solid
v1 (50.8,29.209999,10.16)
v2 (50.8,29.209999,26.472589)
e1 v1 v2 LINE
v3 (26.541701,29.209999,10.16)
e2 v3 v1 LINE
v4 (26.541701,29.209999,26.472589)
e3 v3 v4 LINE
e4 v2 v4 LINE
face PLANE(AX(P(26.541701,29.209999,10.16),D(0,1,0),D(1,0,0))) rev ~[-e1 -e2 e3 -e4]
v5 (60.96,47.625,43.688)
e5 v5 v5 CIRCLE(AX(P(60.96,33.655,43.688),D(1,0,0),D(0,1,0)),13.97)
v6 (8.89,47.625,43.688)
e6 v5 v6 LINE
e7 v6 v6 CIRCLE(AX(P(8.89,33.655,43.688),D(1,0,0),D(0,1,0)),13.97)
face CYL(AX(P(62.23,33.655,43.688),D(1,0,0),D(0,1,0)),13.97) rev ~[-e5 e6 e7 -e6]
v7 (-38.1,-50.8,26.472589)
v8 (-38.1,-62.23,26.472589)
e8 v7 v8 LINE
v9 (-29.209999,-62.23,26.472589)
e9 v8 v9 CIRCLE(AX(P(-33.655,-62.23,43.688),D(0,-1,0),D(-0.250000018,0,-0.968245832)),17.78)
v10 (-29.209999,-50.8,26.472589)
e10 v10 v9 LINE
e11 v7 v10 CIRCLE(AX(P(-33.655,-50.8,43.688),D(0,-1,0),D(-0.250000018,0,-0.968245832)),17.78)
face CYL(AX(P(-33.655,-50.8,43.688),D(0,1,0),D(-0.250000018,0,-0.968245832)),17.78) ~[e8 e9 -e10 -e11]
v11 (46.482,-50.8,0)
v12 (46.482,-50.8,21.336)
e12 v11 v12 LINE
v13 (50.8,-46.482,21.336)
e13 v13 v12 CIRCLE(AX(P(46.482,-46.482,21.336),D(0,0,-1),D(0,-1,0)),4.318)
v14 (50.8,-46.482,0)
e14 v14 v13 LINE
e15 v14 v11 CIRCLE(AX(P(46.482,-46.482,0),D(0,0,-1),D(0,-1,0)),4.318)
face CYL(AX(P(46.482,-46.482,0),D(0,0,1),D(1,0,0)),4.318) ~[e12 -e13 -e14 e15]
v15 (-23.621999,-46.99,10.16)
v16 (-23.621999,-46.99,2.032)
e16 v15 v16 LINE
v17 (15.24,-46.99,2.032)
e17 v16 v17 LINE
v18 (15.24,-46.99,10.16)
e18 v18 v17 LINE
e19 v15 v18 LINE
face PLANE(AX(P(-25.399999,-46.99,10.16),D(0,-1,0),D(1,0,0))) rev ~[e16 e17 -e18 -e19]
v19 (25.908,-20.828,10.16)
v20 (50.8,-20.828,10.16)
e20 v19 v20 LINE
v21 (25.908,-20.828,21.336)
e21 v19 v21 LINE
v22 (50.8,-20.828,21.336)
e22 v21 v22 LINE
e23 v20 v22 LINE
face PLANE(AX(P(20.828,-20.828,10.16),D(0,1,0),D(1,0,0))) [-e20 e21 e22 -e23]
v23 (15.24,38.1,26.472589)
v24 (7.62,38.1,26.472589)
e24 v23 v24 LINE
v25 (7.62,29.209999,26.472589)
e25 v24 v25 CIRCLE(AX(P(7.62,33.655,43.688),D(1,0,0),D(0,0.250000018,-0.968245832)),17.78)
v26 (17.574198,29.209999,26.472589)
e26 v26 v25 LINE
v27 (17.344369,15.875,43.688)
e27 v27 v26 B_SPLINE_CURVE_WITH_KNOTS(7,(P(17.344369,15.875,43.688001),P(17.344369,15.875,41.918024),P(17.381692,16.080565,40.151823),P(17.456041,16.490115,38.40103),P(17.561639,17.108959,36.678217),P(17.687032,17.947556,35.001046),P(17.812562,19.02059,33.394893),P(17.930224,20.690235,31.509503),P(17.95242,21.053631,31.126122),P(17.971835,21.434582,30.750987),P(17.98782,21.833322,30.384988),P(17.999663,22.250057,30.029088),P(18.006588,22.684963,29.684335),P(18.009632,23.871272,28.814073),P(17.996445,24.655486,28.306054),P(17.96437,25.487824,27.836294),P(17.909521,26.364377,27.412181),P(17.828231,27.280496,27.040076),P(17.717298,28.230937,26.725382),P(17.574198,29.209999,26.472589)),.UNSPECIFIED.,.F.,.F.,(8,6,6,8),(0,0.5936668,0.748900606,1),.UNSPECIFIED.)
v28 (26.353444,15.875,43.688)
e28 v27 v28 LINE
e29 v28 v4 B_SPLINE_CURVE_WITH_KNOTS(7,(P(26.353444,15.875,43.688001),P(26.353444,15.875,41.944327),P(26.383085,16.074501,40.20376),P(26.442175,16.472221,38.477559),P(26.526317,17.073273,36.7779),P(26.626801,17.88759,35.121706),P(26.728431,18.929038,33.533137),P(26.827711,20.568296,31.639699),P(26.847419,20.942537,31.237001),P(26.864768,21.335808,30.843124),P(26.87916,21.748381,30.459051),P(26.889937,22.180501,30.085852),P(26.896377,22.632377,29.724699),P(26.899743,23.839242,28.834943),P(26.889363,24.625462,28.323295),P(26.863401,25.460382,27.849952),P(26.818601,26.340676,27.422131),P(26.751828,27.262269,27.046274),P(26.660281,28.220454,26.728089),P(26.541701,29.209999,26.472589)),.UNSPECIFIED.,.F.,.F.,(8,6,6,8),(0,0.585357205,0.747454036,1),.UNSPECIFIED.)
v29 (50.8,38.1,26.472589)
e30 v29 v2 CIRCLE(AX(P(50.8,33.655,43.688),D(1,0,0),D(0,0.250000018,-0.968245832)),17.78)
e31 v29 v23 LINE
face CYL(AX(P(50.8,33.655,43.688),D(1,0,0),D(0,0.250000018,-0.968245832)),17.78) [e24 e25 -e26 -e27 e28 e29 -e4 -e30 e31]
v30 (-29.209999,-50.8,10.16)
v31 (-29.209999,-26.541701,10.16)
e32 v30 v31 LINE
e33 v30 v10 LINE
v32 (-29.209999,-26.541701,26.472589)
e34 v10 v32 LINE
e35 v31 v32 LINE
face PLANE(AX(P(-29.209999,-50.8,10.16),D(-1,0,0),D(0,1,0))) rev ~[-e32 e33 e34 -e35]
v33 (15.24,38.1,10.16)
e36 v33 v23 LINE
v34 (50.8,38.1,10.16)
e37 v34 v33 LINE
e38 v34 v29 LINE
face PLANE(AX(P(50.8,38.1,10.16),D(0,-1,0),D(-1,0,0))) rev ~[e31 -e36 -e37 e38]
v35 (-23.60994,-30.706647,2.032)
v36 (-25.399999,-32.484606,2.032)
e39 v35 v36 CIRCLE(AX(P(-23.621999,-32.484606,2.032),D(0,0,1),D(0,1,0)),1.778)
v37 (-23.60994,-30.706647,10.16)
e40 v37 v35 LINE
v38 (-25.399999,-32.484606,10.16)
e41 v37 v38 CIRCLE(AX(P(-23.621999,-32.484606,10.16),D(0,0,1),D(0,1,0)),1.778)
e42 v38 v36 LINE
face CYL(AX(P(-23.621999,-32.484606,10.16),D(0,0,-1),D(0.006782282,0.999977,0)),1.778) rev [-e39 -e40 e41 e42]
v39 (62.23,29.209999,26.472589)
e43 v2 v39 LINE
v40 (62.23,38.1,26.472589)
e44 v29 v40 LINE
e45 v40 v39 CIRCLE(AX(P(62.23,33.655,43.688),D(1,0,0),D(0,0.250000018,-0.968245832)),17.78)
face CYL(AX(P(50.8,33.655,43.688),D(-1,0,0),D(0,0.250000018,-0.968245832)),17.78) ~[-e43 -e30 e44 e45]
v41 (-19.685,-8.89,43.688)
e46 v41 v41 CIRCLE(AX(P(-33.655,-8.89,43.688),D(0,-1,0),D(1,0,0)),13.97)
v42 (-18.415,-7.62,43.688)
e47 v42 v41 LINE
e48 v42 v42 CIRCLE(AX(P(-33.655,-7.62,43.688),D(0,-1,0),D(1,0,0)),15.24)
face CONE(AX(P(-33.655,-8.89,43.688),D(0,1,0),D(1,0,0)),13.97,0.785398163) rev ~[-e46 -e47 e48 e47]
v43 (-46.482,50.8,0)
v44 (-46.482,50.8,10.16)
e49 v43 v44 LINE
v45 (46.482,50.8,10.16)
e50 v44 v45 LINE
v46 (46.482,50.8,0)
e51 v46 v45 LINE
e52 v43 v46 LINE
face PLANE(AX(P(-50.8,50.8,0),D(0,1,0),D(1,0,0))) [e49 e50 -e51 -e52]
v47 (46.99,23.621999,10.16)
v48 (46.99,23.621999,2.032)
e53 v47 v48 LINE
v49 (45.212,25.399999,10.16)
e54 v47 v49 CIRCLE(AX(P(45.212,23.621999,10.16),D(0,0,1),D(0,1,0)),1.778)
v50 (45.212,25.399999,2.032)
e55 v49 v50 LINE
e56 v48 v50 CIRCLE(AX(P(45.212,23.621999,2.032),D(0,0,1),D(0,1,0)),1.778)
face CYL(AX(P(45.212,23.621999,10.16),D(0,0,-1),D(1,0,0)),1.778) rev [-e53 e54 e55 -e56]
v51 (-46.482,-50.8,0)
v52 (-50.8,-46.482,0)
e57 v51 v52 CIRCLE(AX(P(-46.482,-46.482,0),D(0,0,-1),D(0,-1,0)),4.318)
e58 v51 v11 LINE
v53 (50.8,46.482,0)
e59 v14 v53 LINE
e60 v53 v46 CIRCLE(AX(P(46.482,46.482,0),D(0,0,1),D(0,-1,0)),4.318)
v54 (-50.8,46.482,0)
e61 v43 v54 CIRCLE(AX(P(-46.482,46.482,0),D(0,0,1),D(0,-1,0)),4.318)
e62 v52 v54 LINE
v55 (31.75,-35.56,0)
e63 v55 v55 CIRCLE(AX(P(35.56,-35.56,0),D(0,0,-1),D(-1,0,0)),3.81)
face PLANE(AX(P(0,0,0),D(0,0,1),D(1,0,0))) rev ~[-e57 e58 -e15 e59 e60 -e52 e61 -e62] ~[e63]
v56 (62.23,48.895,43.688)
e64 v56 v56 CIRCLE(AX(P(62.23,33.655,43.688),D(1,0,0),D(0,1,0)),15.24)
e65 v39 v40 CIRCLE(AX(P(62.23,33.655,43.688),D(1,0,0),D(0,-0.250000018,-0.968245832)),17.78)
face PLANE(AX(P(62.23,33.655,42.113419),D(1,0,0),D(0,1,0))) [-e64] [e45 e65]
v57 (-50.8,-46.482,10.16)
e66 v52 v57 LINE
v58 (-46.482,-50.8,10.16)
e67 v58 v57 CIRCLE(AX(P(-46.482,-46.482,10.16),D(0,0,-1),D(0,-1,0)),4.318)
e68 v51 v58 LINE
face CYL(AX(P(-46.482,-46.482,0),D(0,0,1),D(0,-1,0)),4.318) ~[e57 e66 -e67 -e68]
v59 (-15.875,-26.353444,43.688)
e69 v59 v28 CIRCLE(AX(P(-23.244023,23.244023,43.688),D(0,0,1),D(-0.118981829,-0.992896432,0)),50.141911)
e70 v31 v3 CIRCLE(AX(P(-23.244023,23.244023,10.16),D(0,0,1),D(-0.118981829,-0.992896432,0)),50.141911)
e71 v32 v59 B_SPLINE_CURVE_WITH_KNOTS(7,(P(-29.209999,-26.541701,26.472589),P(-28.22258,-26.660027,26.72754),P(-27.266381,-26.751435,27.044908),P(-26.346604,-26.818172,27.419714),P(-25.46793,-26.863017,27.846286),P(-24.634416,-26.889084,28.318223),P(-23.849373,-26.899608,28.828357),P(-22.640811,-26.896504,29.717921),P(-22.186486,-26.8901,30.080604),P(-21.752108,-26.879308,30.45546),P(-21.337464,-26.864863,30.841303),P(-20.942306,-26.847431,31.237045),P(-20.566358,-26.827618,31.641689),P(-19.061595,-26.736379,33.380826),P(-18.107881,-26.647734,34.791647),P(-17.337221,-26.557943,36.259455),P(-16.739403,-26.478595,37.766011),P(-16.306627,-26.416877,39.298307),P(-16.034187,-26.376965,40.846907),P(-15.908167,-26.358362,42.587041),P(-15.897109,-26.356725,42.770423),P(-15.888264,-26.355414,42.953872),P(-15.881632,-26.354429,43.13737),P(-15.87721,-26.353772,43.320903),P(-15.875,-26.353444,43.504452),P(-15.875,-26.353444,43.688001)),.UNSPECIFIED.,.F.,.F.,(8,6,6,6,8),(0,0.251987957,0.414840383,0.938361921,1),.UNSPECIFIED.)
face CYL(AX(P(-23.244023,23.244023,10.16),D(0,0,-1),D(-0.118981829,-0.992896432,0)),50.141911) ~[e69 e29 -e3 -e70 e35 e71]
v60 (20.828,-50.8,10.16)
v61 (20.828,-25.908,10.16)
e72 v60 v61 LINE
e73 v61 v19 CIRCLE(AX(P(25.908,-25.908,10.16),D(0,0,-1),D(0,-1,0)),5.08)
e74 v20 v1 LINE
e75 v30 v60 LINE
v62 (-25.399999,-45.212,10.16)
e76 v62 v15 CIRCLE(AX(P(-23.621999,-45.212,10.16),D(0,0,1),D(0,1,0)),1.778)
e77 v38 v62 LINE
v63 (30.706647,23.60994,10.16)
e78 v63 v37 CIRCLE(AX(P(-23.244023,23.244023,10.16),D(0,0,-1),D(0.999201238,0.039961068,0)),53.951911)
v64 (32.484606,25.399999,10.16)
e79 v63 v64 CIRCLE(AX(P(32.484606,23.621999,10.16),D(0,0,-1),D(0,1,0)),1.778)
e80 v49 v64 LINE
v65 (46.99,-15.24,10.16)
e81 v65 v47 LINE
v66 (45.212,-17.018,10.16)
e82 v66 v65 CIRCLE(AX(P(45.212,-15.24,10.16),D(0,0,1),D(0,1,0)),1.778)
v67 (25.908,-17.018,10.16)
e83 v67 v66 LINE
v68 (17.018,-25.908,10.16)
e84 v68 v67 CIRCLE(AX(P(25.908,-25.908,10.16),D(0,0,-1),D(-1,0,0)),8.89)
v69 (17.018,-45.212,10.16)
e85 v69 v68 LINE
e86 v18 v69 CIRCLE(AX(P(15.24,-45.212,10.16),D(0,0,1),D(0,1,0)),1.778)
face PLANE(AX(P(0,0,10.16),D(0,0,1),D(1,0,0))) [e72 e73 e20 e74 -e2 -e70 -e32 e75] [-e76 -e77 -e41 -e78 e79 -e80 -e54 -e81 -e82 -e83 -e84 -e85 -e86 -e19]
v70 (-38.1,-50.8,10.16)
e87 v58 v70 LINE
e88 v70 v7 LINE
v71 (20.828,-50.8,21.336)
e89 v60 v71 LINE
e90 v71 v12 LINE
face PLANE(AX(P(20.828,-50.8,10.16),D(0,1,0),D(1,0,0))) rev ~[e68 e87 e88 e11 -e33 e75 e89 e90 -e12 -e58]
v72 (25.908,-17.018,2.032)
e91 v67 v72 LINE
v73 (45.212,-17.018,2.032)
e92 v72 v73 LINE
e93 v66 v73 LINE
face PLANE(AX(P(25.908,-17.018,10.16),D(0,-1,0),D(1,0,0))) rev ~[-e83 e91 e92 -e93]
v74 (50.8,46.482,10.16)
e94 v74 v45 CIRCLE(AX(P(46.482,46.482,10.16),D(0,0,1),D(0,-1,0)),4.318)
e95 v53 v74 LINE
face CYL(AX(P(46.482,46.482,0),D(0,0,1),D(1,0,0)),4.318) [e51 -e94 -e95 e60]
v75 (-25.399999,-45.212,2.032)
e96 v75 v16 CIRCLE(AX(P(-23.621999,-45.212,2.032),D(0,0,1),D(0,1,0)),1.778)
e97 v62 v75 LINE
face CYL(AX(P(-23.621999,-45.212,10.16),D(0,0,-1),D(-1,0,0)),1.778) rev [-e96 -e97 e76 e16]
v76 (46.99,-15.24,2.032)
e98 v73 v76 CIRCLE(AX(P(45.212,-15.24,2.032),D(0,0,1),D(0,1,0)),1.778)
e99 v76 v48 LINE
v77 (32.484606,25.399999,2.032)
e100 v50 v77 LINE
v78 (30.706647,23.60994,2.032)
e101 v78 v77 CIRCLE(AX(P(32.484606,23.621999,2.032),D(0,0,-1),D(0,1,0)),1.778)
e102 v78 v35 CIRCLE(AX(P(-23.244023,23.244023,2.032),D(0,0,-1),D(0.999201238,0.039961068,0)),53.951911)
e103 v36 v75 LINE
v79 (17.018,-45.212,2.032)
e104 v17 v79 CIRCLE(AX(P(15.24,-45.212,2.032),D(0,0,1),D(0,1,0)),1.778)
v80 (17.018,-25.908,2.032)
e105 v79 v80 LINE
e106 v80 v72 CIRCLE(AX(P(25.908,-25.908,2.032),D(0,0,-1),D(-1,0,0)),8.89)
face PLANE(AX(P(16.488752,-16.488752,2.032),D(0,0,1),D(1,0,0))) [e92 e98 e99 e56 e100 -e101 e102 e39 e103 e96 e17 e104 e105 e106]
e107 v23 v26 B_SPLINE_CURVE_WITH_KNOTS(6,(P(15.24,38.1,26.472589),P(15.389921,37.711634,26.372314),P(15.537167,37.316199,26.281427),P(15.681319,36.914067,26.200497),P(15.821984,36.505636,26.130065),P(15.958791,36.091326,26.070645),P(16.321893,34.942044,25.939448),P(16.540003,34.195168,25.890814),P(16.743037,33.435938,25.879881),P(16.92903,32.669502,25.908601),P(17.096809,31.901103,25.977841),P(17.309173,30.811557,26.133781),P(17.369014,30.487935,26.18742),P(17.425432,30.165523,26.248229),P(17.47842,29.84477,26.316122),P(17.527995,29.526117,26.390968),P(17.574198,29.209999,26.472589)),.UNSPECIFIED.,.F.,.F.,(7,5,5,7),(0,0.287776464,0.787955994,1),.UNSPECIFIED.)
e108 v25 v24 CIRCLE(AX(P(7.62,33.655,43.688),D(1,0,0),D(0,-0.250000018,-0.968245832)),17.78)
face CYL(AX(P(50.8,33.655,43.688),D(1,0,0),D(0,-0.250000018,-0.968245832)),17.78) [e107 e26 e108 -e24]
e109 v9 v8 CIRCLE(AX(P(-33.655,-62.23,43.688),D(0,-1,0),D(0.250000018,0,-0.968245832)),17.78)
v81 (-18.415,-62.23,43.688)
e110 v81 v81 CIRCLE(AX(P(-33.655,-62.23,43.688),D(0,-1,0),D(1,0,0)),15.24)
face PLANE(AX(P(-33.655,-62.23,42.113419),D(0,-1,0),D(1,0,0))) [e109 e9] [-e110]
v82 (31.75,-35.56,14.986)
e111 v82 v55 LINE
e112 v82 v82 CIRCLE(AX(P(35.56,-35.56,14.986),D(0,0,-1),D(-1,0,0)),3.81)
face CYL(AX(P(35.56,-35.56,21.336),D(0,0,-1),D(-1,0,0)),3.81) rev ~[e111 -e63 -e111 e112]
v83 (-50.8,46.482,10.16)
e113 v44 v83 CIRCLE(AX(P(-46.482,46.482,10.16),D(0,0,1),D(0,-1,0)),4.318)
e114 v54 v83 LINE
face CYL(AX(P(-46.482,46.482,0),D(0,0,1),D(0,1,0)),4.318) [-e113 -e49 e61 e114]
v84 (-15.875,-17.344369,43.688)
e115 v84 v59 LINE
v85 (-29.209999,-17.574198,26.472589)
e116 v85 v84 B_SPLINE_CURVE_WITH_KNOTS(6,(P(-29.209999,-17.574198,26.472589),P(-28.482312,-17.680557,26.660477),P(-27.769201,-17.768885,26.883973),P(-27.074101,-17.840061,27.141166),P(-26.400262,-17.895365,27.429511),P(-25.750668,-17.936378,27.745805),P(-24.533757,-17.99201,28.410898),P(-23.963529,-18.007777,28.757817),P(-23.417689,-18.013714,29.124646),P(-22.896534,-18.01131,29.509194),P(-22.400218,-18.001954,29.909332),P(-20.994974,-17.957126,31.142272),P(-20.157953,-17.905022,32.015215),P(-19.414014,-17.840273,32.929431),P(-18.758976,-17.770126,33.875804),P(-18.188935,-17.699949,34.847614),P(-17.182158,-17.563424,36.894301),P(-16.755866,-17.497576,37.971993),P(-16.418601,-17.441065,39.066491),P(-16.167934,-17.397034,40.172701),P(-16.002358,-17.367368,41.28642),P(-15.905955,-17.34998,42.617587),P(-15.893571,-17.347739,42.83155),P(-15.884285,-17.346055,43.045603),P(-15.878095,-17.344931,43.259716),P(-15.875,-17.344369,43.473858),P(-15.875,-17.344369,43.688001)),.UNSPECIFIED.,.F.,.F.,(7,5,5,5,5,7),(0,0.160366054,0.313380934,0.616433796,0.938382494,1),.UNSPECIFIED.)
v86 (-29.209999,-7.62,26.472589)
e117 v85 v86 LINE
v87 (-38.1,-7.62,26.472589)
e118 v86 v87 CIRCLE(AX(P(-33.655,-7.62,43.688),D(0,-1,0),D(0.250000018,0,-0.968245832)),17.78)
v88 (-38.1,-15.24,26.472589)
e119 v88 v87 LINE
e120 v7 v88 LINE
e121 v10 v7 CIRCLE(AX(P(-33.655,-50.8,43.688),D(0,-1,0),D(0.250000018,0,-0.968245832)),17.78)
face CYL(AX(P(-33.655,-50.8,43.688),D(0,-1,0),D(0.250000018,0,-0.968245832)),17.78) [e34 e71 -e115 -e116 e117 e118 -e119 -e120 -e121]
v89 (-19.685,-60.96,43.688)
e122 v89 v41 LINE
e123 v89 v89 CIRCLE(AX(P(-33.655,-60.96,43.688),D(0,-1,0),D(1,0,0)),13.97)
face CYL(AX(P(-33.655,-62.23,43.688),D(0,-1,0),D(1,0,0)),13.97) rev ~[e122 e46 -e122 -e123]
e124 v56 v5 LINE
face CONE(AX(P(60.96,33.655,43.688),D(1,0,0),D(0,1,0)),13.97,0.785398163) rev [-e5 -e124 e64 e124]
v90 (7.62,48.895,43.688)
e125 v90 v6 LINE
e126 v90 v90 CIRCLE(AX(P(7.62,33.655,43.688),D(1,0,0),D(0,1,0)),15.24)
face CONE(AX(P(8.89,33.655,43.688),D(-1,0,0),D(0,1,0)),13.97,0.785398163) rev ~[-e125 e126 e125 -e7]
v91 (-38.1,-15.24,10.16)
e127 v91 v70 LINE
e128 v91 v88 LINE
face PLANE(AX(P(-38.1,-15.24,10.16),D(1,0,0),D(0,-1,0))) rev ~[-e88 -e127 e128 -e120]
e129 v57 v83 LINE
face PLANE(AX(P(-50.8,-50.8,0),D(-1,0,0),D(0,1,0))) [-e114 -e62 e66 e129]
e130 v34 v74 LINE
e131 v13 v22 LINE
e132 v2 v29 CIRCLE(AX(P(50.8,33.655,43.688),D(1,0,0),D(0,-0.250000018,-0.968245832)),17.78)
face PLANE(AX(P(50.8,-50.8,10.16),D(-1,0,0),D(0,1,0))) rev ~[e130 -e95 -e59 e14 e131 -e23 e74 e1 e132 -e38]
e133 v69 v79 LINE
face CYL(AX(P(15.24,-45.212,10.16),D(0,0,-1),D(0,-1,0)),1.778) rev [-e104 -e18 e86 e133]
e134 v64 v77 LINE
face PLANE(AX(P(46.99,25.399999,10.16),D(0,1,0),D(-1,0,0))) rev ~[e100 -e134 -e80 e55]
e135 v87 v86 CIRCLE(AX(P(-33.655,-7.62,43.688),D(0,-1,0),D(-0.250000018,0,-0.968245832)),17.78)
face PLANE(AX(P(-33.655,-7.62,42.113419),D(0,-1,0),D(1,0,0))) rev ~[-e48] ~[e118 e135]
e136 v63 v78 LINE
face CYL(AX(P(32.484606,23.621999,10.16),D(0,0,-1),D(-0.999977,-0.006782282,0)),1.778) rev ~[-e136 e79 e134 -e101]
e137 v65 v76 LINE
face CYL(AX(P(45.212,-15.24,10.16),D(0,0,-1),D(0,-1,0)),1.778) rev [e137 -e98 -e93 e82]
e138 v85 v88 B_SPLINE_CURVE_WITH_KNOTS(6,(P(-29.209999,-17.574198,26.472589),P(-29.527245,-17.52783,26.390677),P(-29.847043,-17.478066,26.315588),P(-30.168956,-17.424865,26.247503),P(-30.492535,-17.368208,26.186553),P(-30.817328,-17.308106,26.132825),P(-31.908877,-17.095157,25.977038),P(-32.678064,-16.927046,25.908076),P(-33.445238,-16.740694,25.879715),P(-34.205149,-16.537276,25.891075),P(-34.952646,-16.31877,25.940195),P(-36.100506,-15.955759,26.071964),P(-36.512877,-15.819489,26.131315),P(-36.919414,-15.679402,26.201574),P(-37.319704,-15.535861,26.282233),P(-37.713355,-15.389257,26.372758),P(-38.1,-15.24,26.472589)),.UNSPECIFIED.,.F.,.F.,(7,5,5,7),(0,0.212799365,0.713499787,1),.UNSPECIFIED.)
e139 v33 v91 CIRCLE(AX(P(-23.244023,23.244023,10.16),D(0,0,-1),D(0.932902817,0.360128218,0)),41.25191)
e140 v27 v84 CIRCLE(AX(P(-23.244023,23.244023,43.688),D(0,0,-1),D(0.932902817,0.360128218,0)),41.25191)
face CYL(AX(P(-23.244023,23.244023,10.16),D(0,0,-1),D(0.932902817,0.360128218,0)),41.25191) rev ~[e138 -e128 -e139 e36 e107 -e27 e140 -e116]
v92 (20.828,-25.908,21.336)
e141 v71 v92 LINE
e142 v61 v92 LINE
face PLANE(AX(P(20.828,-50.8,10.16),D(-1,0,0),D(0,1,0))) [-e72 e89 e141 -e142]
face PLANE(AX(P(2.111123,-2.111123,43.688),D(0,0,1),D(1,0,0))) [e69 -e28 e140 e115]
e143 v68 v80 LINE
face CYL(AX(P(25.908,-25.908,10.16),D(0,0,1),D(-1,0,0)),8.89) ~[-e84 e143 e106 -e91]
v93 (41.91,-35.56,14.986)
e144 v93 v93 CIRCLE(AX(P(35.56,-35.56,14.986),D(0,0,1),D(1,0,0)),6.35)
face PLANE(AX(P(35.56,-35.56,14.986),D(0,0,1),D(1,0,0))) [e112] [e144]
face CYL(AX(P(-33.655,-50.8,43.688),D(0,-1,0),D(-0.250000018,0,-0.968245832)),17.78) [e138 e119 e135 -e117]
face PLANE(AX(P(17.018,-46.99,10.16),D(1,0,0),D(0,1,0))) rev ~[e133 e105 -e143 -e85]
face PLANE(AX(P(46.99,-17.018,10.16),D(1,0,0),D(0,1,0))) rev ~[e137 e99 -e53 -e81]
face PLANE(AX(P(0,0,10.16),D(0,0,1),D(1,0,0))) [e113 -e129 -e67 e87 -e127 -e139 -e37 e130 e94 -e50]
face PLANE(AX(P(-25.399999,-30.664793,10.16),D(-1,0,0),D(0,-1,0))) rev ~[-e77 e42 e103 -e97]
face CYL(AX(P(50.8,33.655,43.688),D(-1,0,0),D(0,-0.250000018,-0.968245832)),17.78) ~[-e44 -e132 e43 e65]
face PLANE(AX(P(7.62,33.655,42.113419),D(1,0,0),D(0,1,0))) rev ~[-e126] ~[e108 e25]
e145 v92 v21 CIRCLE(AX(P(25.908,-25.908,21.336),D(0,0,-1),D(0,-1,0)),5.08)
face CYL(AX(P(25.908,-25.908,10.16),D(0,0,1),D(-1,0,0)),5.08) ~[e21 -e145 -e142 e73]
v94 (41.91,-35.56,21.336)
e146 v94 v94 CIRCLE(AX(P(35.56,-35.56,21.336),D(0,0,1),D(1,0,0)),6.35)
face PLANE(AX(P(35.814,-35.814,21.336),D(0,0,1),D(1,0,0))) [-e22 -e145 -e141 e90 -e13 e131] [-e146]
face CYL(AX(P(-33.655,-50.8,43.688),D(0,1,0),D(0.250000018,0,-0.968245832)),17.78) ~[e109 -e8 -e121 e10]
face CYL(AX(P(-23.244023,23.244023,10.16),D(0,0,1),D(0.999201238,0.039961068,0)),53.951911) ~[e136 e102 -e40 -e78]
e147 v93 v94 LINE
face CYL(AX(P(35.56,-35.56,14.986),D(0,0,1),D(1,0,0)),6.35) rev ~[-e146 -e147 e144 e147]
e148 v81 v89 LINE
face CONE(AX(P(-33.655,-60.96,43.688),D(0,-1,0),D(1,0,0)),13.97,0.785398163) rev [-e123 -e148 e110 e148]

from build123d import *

# Parameters (mm, degrees)
F0_W            = 101.6
F0_H            = 101.6
F1_DEPTH        = 10.16
F3_DEPTH        = 33.528
F5_DEPTH        = 11.43
F5_DEPTH_BACK   = 43.18
F7_DEPTH        = 11.43
F7_DEPTH_BACK   = 43.18
F8_W            = 29.972
F8_H            = 29.972
F9_DEPTH        = 11.176
F10_R           = 5.08
F12_DEPTH       = 8.128
F14_D           = 7.62
F14_CBORE_D     = 12.7
F14_CBORE_DEPTH = 6.35
F15_R           = 1.778
F16_R           = 13.97
F17_DEPTH       = 86.868
F18_R           = 13.97
F19_DEPTH       = 107.696
F20_SIZE        = 1.27
F21_R           = 4.318


with BuildPart() as f1:
    # F0 (on Top) → F1 (new body)
    with BuildSketch(Plane.XY):
        Rectangle(F0_W, F0_H)
    extrude(amount=F1_DEPTH)

    # F2 (on face) → F3 (join)
    with BuildSketch(Plane.XY.offset(10.16)):
        with BuildLine():
            Line((-38.1, -15.24), (-38.1, -50.8))
            Line((-38.1, -50.8), (-29.2099993676, -50.8))
            Line((-29.2099993676, -50.8), (-29.2099993676, -26.5417011038))
            ThreePointArc((-29.2099993676, -26.5417011038), (12.2116619609, -12.2116619609), (26.5417011038, 29.2099993676))
            Line((26.5417011038, 29.2099993676), (50.8, 29.2099993676))
            Line((50.8, 29.2099993676), (50.8, 38.1))
            Line((50.8, 38.1), (15.24, 38.1))
            ThreePointArc((15.24, 38.1), (5.9254822289, -5.9254822289), (-38.1, -15.24))
        make_face()
    extrude(amount=F3_DEPTH)

    # F4 (on face) → F5 (join, two sides)
    with BuildSketch(Plane.XZ.offset(50.8)) as f5_sk:
        with BuildLine():
            ThreePointArc((-29.2099993676, 26.4725891078), (-19.5986753844, 32.8000182224), (-15.8749996838, 43.688))
            ThreePointArc((-15.8749996838, 43.688), (-44.5429814614, 57.7443242994), (-38.1, 26.4725891078))
            Line((-38.1, 26.4725891078), (-38.1, 43.688))
            Line((-38.1, 43.688), (-29.2099993676, 43.688))
            Line((-29.2099993676, 43.688), (-29.2099993676, 26.4725891078))
        make_face()
        with BuildLine():
            Line((-38.1, 43.688), (-38.1, 26.4725891078))
            ThreePointArc((-38.1, 26.4725891078), (-33.6549996838, 25.908), (-29.2099993676, 26.4725891078))
            Line((-29.2099993676, 26.4725891078), (-29.2099993676, 43.688))
            Line((-29.2099993676, 43.688), (-38.1, 43.688))
        make_face()
    extrude(amount=F5_DEPTH)
    extrude(f5_sk.sketch, amount=-F5_DEPTH_BACK)

    # F6 (on face) → F7 (join, two sides)
    with BuildSketch(Plane.YZ.offset(50.8)) as f7_sk:
        with BuildLine():
            ThreePointArc((38.1, 26.4725891078), (47.7113239832, 32.8000182224), (51.4349996838, 43.688))
            ThreePointArc((51.4349996838, 43.688), (22.7670179062, 57.7443242994), (29.2099993676, 26.4725891078))
            Line((29.2099993676, 26.4725891078), (29.2099993676, 43.688))
            Line((29.2099993676, 43.688), (38.1, 43.688))
            Line((38.1, 43.688), (38.1, 26.4725891078))
        make_face()
        with BuildLine():
            Line((29.2099993676, 43.688), (29.2099993676, 26.4725891078))
            ThreePointArc((29.2099993676, 26.4725891078), (33.6549996838, 25.908), (38.1, 26.4725891078))
            Line((38.1, 26.4725891078), (38.1, 43.688))
            Line((38.1, 43.688), (29.2099993676, 43.688))
        make_face()
    extrude(amount=F7_DEPTH)
    extrude(f7_sk.sketch, amount=-F7_DEPTH_BACK)

    # F8 (on face) → F9 (join)
    with BuildSketch(Plane.XY.offset(10.16)):
        with Locations((35.814, -35.814)):
            Rectangle(F8_W, F8_H)
    extrude(amount=F9_DEPTH)

    # F10
    f10_edges = [f1.edges().sort_by_distance(p)[0] for p in [
        (20.828, -20.828, 15.748),
    ]]
    fillet(f10_edges, radius=F10_R)

    # F11 (on face) → F12 (cut)
    with BuildSketch(Plane.XY.offset(10.16)):
        with BuildLine():
            ThreePointArc((30.6647931111, 25.3999990791), (14.9057390012, -14.9057390012), (-25.3999990791, -30.6647931111))
            Line((-25.3999990791, -30.6647931111), (-25.3999990791, -46.9899997115))
            Line((-25.3999990791, -46.9899997115), (17.0179997115, -46.9899997115))
            Line((17.0179997115, -46.9899997115), (17.0179997115, -25.908))
            ThreePointArc((17.0179997115, -25.908), (19.6218205113, -19.6218205113), (25.908, -17.0179997115))
            Line((25.908, -17.0179997115), (46.9899997115, -17.0179997115))
            Line((46.9899997115, -17.0179997115), (46.9899997115, 25.3999990791))
            Line((46.9899997115, 25.3999990791), (30.6647931111, 25.3999990791))
        make_face()
    extrude(amount=-F12_DEPTH, mode=Mode.SUBTRACT)

    # F14 (through all)
    with Locations(Plane.XY.offset(21.336)):
        with Locations((35.56, -35.56)):
            CounterBoreHole(F14_D / 2, F14_CBORE_D / 2, F14_CBORE_DEPTH)

    # F15
    f15_edges = [f1.edges().sort_by_distance(p)[0] for p in [
        (-25.399999, -46.99, 6.096),
        (-25.399999, -30.664793, 6.096),
        (30.664793, 25.399999, 6.096),
        (46.99, 25.399999, 6.096),
        (46.99, -17.018, 6.096),
        (17.018, -46.99, 6.096),
    ]]
    fillet(f15_edges, radius=F15_R)

    # F16 (on face) → F17 (cut)
    with BuildSketch(Plane.XZ.offset(62.23)):
        with Locations((-33.6549996838, 43.688)):
            Circle(F16_R)
    extrude(amount=-F17_DEPTH, mode=Mode.SUBTRACT)

    # F18 (on face) → F19 (cut)
    with BuildSketch(Plane.YZ.offset(62.23)):
        with Locations((33.6549996838, 43.688)):
            Circle(F18_R)
    extrude(amount=-F19_DEPTH, mode=Mode.SUBTRACT)

    # F20
    f20_edges = [f1.edges().sort_by_distance(p)[0] for p in [
        (62.23, 19.685, 43.688),
        (-47.625, -62.23, 43.688),
        (7.62, 19.685, 43.688),
        (-47.625, -7.62, 43.688),
    ]]
    chamfer(f20_edges, length=F20_SIZE)

    # F21
    f21_edges = [f1.edges().sort_by_distance(p)[0] for p in [
        (50.8, -50.8, 10.668),
        (50.8, 50.8, 5.08),
        (-50.8, 50.8, 5.08),
        (-50.8, -50.8, 5.08),
    ]]
    fillet(f21_edges, radius=F21_R)


solid = f1.part
